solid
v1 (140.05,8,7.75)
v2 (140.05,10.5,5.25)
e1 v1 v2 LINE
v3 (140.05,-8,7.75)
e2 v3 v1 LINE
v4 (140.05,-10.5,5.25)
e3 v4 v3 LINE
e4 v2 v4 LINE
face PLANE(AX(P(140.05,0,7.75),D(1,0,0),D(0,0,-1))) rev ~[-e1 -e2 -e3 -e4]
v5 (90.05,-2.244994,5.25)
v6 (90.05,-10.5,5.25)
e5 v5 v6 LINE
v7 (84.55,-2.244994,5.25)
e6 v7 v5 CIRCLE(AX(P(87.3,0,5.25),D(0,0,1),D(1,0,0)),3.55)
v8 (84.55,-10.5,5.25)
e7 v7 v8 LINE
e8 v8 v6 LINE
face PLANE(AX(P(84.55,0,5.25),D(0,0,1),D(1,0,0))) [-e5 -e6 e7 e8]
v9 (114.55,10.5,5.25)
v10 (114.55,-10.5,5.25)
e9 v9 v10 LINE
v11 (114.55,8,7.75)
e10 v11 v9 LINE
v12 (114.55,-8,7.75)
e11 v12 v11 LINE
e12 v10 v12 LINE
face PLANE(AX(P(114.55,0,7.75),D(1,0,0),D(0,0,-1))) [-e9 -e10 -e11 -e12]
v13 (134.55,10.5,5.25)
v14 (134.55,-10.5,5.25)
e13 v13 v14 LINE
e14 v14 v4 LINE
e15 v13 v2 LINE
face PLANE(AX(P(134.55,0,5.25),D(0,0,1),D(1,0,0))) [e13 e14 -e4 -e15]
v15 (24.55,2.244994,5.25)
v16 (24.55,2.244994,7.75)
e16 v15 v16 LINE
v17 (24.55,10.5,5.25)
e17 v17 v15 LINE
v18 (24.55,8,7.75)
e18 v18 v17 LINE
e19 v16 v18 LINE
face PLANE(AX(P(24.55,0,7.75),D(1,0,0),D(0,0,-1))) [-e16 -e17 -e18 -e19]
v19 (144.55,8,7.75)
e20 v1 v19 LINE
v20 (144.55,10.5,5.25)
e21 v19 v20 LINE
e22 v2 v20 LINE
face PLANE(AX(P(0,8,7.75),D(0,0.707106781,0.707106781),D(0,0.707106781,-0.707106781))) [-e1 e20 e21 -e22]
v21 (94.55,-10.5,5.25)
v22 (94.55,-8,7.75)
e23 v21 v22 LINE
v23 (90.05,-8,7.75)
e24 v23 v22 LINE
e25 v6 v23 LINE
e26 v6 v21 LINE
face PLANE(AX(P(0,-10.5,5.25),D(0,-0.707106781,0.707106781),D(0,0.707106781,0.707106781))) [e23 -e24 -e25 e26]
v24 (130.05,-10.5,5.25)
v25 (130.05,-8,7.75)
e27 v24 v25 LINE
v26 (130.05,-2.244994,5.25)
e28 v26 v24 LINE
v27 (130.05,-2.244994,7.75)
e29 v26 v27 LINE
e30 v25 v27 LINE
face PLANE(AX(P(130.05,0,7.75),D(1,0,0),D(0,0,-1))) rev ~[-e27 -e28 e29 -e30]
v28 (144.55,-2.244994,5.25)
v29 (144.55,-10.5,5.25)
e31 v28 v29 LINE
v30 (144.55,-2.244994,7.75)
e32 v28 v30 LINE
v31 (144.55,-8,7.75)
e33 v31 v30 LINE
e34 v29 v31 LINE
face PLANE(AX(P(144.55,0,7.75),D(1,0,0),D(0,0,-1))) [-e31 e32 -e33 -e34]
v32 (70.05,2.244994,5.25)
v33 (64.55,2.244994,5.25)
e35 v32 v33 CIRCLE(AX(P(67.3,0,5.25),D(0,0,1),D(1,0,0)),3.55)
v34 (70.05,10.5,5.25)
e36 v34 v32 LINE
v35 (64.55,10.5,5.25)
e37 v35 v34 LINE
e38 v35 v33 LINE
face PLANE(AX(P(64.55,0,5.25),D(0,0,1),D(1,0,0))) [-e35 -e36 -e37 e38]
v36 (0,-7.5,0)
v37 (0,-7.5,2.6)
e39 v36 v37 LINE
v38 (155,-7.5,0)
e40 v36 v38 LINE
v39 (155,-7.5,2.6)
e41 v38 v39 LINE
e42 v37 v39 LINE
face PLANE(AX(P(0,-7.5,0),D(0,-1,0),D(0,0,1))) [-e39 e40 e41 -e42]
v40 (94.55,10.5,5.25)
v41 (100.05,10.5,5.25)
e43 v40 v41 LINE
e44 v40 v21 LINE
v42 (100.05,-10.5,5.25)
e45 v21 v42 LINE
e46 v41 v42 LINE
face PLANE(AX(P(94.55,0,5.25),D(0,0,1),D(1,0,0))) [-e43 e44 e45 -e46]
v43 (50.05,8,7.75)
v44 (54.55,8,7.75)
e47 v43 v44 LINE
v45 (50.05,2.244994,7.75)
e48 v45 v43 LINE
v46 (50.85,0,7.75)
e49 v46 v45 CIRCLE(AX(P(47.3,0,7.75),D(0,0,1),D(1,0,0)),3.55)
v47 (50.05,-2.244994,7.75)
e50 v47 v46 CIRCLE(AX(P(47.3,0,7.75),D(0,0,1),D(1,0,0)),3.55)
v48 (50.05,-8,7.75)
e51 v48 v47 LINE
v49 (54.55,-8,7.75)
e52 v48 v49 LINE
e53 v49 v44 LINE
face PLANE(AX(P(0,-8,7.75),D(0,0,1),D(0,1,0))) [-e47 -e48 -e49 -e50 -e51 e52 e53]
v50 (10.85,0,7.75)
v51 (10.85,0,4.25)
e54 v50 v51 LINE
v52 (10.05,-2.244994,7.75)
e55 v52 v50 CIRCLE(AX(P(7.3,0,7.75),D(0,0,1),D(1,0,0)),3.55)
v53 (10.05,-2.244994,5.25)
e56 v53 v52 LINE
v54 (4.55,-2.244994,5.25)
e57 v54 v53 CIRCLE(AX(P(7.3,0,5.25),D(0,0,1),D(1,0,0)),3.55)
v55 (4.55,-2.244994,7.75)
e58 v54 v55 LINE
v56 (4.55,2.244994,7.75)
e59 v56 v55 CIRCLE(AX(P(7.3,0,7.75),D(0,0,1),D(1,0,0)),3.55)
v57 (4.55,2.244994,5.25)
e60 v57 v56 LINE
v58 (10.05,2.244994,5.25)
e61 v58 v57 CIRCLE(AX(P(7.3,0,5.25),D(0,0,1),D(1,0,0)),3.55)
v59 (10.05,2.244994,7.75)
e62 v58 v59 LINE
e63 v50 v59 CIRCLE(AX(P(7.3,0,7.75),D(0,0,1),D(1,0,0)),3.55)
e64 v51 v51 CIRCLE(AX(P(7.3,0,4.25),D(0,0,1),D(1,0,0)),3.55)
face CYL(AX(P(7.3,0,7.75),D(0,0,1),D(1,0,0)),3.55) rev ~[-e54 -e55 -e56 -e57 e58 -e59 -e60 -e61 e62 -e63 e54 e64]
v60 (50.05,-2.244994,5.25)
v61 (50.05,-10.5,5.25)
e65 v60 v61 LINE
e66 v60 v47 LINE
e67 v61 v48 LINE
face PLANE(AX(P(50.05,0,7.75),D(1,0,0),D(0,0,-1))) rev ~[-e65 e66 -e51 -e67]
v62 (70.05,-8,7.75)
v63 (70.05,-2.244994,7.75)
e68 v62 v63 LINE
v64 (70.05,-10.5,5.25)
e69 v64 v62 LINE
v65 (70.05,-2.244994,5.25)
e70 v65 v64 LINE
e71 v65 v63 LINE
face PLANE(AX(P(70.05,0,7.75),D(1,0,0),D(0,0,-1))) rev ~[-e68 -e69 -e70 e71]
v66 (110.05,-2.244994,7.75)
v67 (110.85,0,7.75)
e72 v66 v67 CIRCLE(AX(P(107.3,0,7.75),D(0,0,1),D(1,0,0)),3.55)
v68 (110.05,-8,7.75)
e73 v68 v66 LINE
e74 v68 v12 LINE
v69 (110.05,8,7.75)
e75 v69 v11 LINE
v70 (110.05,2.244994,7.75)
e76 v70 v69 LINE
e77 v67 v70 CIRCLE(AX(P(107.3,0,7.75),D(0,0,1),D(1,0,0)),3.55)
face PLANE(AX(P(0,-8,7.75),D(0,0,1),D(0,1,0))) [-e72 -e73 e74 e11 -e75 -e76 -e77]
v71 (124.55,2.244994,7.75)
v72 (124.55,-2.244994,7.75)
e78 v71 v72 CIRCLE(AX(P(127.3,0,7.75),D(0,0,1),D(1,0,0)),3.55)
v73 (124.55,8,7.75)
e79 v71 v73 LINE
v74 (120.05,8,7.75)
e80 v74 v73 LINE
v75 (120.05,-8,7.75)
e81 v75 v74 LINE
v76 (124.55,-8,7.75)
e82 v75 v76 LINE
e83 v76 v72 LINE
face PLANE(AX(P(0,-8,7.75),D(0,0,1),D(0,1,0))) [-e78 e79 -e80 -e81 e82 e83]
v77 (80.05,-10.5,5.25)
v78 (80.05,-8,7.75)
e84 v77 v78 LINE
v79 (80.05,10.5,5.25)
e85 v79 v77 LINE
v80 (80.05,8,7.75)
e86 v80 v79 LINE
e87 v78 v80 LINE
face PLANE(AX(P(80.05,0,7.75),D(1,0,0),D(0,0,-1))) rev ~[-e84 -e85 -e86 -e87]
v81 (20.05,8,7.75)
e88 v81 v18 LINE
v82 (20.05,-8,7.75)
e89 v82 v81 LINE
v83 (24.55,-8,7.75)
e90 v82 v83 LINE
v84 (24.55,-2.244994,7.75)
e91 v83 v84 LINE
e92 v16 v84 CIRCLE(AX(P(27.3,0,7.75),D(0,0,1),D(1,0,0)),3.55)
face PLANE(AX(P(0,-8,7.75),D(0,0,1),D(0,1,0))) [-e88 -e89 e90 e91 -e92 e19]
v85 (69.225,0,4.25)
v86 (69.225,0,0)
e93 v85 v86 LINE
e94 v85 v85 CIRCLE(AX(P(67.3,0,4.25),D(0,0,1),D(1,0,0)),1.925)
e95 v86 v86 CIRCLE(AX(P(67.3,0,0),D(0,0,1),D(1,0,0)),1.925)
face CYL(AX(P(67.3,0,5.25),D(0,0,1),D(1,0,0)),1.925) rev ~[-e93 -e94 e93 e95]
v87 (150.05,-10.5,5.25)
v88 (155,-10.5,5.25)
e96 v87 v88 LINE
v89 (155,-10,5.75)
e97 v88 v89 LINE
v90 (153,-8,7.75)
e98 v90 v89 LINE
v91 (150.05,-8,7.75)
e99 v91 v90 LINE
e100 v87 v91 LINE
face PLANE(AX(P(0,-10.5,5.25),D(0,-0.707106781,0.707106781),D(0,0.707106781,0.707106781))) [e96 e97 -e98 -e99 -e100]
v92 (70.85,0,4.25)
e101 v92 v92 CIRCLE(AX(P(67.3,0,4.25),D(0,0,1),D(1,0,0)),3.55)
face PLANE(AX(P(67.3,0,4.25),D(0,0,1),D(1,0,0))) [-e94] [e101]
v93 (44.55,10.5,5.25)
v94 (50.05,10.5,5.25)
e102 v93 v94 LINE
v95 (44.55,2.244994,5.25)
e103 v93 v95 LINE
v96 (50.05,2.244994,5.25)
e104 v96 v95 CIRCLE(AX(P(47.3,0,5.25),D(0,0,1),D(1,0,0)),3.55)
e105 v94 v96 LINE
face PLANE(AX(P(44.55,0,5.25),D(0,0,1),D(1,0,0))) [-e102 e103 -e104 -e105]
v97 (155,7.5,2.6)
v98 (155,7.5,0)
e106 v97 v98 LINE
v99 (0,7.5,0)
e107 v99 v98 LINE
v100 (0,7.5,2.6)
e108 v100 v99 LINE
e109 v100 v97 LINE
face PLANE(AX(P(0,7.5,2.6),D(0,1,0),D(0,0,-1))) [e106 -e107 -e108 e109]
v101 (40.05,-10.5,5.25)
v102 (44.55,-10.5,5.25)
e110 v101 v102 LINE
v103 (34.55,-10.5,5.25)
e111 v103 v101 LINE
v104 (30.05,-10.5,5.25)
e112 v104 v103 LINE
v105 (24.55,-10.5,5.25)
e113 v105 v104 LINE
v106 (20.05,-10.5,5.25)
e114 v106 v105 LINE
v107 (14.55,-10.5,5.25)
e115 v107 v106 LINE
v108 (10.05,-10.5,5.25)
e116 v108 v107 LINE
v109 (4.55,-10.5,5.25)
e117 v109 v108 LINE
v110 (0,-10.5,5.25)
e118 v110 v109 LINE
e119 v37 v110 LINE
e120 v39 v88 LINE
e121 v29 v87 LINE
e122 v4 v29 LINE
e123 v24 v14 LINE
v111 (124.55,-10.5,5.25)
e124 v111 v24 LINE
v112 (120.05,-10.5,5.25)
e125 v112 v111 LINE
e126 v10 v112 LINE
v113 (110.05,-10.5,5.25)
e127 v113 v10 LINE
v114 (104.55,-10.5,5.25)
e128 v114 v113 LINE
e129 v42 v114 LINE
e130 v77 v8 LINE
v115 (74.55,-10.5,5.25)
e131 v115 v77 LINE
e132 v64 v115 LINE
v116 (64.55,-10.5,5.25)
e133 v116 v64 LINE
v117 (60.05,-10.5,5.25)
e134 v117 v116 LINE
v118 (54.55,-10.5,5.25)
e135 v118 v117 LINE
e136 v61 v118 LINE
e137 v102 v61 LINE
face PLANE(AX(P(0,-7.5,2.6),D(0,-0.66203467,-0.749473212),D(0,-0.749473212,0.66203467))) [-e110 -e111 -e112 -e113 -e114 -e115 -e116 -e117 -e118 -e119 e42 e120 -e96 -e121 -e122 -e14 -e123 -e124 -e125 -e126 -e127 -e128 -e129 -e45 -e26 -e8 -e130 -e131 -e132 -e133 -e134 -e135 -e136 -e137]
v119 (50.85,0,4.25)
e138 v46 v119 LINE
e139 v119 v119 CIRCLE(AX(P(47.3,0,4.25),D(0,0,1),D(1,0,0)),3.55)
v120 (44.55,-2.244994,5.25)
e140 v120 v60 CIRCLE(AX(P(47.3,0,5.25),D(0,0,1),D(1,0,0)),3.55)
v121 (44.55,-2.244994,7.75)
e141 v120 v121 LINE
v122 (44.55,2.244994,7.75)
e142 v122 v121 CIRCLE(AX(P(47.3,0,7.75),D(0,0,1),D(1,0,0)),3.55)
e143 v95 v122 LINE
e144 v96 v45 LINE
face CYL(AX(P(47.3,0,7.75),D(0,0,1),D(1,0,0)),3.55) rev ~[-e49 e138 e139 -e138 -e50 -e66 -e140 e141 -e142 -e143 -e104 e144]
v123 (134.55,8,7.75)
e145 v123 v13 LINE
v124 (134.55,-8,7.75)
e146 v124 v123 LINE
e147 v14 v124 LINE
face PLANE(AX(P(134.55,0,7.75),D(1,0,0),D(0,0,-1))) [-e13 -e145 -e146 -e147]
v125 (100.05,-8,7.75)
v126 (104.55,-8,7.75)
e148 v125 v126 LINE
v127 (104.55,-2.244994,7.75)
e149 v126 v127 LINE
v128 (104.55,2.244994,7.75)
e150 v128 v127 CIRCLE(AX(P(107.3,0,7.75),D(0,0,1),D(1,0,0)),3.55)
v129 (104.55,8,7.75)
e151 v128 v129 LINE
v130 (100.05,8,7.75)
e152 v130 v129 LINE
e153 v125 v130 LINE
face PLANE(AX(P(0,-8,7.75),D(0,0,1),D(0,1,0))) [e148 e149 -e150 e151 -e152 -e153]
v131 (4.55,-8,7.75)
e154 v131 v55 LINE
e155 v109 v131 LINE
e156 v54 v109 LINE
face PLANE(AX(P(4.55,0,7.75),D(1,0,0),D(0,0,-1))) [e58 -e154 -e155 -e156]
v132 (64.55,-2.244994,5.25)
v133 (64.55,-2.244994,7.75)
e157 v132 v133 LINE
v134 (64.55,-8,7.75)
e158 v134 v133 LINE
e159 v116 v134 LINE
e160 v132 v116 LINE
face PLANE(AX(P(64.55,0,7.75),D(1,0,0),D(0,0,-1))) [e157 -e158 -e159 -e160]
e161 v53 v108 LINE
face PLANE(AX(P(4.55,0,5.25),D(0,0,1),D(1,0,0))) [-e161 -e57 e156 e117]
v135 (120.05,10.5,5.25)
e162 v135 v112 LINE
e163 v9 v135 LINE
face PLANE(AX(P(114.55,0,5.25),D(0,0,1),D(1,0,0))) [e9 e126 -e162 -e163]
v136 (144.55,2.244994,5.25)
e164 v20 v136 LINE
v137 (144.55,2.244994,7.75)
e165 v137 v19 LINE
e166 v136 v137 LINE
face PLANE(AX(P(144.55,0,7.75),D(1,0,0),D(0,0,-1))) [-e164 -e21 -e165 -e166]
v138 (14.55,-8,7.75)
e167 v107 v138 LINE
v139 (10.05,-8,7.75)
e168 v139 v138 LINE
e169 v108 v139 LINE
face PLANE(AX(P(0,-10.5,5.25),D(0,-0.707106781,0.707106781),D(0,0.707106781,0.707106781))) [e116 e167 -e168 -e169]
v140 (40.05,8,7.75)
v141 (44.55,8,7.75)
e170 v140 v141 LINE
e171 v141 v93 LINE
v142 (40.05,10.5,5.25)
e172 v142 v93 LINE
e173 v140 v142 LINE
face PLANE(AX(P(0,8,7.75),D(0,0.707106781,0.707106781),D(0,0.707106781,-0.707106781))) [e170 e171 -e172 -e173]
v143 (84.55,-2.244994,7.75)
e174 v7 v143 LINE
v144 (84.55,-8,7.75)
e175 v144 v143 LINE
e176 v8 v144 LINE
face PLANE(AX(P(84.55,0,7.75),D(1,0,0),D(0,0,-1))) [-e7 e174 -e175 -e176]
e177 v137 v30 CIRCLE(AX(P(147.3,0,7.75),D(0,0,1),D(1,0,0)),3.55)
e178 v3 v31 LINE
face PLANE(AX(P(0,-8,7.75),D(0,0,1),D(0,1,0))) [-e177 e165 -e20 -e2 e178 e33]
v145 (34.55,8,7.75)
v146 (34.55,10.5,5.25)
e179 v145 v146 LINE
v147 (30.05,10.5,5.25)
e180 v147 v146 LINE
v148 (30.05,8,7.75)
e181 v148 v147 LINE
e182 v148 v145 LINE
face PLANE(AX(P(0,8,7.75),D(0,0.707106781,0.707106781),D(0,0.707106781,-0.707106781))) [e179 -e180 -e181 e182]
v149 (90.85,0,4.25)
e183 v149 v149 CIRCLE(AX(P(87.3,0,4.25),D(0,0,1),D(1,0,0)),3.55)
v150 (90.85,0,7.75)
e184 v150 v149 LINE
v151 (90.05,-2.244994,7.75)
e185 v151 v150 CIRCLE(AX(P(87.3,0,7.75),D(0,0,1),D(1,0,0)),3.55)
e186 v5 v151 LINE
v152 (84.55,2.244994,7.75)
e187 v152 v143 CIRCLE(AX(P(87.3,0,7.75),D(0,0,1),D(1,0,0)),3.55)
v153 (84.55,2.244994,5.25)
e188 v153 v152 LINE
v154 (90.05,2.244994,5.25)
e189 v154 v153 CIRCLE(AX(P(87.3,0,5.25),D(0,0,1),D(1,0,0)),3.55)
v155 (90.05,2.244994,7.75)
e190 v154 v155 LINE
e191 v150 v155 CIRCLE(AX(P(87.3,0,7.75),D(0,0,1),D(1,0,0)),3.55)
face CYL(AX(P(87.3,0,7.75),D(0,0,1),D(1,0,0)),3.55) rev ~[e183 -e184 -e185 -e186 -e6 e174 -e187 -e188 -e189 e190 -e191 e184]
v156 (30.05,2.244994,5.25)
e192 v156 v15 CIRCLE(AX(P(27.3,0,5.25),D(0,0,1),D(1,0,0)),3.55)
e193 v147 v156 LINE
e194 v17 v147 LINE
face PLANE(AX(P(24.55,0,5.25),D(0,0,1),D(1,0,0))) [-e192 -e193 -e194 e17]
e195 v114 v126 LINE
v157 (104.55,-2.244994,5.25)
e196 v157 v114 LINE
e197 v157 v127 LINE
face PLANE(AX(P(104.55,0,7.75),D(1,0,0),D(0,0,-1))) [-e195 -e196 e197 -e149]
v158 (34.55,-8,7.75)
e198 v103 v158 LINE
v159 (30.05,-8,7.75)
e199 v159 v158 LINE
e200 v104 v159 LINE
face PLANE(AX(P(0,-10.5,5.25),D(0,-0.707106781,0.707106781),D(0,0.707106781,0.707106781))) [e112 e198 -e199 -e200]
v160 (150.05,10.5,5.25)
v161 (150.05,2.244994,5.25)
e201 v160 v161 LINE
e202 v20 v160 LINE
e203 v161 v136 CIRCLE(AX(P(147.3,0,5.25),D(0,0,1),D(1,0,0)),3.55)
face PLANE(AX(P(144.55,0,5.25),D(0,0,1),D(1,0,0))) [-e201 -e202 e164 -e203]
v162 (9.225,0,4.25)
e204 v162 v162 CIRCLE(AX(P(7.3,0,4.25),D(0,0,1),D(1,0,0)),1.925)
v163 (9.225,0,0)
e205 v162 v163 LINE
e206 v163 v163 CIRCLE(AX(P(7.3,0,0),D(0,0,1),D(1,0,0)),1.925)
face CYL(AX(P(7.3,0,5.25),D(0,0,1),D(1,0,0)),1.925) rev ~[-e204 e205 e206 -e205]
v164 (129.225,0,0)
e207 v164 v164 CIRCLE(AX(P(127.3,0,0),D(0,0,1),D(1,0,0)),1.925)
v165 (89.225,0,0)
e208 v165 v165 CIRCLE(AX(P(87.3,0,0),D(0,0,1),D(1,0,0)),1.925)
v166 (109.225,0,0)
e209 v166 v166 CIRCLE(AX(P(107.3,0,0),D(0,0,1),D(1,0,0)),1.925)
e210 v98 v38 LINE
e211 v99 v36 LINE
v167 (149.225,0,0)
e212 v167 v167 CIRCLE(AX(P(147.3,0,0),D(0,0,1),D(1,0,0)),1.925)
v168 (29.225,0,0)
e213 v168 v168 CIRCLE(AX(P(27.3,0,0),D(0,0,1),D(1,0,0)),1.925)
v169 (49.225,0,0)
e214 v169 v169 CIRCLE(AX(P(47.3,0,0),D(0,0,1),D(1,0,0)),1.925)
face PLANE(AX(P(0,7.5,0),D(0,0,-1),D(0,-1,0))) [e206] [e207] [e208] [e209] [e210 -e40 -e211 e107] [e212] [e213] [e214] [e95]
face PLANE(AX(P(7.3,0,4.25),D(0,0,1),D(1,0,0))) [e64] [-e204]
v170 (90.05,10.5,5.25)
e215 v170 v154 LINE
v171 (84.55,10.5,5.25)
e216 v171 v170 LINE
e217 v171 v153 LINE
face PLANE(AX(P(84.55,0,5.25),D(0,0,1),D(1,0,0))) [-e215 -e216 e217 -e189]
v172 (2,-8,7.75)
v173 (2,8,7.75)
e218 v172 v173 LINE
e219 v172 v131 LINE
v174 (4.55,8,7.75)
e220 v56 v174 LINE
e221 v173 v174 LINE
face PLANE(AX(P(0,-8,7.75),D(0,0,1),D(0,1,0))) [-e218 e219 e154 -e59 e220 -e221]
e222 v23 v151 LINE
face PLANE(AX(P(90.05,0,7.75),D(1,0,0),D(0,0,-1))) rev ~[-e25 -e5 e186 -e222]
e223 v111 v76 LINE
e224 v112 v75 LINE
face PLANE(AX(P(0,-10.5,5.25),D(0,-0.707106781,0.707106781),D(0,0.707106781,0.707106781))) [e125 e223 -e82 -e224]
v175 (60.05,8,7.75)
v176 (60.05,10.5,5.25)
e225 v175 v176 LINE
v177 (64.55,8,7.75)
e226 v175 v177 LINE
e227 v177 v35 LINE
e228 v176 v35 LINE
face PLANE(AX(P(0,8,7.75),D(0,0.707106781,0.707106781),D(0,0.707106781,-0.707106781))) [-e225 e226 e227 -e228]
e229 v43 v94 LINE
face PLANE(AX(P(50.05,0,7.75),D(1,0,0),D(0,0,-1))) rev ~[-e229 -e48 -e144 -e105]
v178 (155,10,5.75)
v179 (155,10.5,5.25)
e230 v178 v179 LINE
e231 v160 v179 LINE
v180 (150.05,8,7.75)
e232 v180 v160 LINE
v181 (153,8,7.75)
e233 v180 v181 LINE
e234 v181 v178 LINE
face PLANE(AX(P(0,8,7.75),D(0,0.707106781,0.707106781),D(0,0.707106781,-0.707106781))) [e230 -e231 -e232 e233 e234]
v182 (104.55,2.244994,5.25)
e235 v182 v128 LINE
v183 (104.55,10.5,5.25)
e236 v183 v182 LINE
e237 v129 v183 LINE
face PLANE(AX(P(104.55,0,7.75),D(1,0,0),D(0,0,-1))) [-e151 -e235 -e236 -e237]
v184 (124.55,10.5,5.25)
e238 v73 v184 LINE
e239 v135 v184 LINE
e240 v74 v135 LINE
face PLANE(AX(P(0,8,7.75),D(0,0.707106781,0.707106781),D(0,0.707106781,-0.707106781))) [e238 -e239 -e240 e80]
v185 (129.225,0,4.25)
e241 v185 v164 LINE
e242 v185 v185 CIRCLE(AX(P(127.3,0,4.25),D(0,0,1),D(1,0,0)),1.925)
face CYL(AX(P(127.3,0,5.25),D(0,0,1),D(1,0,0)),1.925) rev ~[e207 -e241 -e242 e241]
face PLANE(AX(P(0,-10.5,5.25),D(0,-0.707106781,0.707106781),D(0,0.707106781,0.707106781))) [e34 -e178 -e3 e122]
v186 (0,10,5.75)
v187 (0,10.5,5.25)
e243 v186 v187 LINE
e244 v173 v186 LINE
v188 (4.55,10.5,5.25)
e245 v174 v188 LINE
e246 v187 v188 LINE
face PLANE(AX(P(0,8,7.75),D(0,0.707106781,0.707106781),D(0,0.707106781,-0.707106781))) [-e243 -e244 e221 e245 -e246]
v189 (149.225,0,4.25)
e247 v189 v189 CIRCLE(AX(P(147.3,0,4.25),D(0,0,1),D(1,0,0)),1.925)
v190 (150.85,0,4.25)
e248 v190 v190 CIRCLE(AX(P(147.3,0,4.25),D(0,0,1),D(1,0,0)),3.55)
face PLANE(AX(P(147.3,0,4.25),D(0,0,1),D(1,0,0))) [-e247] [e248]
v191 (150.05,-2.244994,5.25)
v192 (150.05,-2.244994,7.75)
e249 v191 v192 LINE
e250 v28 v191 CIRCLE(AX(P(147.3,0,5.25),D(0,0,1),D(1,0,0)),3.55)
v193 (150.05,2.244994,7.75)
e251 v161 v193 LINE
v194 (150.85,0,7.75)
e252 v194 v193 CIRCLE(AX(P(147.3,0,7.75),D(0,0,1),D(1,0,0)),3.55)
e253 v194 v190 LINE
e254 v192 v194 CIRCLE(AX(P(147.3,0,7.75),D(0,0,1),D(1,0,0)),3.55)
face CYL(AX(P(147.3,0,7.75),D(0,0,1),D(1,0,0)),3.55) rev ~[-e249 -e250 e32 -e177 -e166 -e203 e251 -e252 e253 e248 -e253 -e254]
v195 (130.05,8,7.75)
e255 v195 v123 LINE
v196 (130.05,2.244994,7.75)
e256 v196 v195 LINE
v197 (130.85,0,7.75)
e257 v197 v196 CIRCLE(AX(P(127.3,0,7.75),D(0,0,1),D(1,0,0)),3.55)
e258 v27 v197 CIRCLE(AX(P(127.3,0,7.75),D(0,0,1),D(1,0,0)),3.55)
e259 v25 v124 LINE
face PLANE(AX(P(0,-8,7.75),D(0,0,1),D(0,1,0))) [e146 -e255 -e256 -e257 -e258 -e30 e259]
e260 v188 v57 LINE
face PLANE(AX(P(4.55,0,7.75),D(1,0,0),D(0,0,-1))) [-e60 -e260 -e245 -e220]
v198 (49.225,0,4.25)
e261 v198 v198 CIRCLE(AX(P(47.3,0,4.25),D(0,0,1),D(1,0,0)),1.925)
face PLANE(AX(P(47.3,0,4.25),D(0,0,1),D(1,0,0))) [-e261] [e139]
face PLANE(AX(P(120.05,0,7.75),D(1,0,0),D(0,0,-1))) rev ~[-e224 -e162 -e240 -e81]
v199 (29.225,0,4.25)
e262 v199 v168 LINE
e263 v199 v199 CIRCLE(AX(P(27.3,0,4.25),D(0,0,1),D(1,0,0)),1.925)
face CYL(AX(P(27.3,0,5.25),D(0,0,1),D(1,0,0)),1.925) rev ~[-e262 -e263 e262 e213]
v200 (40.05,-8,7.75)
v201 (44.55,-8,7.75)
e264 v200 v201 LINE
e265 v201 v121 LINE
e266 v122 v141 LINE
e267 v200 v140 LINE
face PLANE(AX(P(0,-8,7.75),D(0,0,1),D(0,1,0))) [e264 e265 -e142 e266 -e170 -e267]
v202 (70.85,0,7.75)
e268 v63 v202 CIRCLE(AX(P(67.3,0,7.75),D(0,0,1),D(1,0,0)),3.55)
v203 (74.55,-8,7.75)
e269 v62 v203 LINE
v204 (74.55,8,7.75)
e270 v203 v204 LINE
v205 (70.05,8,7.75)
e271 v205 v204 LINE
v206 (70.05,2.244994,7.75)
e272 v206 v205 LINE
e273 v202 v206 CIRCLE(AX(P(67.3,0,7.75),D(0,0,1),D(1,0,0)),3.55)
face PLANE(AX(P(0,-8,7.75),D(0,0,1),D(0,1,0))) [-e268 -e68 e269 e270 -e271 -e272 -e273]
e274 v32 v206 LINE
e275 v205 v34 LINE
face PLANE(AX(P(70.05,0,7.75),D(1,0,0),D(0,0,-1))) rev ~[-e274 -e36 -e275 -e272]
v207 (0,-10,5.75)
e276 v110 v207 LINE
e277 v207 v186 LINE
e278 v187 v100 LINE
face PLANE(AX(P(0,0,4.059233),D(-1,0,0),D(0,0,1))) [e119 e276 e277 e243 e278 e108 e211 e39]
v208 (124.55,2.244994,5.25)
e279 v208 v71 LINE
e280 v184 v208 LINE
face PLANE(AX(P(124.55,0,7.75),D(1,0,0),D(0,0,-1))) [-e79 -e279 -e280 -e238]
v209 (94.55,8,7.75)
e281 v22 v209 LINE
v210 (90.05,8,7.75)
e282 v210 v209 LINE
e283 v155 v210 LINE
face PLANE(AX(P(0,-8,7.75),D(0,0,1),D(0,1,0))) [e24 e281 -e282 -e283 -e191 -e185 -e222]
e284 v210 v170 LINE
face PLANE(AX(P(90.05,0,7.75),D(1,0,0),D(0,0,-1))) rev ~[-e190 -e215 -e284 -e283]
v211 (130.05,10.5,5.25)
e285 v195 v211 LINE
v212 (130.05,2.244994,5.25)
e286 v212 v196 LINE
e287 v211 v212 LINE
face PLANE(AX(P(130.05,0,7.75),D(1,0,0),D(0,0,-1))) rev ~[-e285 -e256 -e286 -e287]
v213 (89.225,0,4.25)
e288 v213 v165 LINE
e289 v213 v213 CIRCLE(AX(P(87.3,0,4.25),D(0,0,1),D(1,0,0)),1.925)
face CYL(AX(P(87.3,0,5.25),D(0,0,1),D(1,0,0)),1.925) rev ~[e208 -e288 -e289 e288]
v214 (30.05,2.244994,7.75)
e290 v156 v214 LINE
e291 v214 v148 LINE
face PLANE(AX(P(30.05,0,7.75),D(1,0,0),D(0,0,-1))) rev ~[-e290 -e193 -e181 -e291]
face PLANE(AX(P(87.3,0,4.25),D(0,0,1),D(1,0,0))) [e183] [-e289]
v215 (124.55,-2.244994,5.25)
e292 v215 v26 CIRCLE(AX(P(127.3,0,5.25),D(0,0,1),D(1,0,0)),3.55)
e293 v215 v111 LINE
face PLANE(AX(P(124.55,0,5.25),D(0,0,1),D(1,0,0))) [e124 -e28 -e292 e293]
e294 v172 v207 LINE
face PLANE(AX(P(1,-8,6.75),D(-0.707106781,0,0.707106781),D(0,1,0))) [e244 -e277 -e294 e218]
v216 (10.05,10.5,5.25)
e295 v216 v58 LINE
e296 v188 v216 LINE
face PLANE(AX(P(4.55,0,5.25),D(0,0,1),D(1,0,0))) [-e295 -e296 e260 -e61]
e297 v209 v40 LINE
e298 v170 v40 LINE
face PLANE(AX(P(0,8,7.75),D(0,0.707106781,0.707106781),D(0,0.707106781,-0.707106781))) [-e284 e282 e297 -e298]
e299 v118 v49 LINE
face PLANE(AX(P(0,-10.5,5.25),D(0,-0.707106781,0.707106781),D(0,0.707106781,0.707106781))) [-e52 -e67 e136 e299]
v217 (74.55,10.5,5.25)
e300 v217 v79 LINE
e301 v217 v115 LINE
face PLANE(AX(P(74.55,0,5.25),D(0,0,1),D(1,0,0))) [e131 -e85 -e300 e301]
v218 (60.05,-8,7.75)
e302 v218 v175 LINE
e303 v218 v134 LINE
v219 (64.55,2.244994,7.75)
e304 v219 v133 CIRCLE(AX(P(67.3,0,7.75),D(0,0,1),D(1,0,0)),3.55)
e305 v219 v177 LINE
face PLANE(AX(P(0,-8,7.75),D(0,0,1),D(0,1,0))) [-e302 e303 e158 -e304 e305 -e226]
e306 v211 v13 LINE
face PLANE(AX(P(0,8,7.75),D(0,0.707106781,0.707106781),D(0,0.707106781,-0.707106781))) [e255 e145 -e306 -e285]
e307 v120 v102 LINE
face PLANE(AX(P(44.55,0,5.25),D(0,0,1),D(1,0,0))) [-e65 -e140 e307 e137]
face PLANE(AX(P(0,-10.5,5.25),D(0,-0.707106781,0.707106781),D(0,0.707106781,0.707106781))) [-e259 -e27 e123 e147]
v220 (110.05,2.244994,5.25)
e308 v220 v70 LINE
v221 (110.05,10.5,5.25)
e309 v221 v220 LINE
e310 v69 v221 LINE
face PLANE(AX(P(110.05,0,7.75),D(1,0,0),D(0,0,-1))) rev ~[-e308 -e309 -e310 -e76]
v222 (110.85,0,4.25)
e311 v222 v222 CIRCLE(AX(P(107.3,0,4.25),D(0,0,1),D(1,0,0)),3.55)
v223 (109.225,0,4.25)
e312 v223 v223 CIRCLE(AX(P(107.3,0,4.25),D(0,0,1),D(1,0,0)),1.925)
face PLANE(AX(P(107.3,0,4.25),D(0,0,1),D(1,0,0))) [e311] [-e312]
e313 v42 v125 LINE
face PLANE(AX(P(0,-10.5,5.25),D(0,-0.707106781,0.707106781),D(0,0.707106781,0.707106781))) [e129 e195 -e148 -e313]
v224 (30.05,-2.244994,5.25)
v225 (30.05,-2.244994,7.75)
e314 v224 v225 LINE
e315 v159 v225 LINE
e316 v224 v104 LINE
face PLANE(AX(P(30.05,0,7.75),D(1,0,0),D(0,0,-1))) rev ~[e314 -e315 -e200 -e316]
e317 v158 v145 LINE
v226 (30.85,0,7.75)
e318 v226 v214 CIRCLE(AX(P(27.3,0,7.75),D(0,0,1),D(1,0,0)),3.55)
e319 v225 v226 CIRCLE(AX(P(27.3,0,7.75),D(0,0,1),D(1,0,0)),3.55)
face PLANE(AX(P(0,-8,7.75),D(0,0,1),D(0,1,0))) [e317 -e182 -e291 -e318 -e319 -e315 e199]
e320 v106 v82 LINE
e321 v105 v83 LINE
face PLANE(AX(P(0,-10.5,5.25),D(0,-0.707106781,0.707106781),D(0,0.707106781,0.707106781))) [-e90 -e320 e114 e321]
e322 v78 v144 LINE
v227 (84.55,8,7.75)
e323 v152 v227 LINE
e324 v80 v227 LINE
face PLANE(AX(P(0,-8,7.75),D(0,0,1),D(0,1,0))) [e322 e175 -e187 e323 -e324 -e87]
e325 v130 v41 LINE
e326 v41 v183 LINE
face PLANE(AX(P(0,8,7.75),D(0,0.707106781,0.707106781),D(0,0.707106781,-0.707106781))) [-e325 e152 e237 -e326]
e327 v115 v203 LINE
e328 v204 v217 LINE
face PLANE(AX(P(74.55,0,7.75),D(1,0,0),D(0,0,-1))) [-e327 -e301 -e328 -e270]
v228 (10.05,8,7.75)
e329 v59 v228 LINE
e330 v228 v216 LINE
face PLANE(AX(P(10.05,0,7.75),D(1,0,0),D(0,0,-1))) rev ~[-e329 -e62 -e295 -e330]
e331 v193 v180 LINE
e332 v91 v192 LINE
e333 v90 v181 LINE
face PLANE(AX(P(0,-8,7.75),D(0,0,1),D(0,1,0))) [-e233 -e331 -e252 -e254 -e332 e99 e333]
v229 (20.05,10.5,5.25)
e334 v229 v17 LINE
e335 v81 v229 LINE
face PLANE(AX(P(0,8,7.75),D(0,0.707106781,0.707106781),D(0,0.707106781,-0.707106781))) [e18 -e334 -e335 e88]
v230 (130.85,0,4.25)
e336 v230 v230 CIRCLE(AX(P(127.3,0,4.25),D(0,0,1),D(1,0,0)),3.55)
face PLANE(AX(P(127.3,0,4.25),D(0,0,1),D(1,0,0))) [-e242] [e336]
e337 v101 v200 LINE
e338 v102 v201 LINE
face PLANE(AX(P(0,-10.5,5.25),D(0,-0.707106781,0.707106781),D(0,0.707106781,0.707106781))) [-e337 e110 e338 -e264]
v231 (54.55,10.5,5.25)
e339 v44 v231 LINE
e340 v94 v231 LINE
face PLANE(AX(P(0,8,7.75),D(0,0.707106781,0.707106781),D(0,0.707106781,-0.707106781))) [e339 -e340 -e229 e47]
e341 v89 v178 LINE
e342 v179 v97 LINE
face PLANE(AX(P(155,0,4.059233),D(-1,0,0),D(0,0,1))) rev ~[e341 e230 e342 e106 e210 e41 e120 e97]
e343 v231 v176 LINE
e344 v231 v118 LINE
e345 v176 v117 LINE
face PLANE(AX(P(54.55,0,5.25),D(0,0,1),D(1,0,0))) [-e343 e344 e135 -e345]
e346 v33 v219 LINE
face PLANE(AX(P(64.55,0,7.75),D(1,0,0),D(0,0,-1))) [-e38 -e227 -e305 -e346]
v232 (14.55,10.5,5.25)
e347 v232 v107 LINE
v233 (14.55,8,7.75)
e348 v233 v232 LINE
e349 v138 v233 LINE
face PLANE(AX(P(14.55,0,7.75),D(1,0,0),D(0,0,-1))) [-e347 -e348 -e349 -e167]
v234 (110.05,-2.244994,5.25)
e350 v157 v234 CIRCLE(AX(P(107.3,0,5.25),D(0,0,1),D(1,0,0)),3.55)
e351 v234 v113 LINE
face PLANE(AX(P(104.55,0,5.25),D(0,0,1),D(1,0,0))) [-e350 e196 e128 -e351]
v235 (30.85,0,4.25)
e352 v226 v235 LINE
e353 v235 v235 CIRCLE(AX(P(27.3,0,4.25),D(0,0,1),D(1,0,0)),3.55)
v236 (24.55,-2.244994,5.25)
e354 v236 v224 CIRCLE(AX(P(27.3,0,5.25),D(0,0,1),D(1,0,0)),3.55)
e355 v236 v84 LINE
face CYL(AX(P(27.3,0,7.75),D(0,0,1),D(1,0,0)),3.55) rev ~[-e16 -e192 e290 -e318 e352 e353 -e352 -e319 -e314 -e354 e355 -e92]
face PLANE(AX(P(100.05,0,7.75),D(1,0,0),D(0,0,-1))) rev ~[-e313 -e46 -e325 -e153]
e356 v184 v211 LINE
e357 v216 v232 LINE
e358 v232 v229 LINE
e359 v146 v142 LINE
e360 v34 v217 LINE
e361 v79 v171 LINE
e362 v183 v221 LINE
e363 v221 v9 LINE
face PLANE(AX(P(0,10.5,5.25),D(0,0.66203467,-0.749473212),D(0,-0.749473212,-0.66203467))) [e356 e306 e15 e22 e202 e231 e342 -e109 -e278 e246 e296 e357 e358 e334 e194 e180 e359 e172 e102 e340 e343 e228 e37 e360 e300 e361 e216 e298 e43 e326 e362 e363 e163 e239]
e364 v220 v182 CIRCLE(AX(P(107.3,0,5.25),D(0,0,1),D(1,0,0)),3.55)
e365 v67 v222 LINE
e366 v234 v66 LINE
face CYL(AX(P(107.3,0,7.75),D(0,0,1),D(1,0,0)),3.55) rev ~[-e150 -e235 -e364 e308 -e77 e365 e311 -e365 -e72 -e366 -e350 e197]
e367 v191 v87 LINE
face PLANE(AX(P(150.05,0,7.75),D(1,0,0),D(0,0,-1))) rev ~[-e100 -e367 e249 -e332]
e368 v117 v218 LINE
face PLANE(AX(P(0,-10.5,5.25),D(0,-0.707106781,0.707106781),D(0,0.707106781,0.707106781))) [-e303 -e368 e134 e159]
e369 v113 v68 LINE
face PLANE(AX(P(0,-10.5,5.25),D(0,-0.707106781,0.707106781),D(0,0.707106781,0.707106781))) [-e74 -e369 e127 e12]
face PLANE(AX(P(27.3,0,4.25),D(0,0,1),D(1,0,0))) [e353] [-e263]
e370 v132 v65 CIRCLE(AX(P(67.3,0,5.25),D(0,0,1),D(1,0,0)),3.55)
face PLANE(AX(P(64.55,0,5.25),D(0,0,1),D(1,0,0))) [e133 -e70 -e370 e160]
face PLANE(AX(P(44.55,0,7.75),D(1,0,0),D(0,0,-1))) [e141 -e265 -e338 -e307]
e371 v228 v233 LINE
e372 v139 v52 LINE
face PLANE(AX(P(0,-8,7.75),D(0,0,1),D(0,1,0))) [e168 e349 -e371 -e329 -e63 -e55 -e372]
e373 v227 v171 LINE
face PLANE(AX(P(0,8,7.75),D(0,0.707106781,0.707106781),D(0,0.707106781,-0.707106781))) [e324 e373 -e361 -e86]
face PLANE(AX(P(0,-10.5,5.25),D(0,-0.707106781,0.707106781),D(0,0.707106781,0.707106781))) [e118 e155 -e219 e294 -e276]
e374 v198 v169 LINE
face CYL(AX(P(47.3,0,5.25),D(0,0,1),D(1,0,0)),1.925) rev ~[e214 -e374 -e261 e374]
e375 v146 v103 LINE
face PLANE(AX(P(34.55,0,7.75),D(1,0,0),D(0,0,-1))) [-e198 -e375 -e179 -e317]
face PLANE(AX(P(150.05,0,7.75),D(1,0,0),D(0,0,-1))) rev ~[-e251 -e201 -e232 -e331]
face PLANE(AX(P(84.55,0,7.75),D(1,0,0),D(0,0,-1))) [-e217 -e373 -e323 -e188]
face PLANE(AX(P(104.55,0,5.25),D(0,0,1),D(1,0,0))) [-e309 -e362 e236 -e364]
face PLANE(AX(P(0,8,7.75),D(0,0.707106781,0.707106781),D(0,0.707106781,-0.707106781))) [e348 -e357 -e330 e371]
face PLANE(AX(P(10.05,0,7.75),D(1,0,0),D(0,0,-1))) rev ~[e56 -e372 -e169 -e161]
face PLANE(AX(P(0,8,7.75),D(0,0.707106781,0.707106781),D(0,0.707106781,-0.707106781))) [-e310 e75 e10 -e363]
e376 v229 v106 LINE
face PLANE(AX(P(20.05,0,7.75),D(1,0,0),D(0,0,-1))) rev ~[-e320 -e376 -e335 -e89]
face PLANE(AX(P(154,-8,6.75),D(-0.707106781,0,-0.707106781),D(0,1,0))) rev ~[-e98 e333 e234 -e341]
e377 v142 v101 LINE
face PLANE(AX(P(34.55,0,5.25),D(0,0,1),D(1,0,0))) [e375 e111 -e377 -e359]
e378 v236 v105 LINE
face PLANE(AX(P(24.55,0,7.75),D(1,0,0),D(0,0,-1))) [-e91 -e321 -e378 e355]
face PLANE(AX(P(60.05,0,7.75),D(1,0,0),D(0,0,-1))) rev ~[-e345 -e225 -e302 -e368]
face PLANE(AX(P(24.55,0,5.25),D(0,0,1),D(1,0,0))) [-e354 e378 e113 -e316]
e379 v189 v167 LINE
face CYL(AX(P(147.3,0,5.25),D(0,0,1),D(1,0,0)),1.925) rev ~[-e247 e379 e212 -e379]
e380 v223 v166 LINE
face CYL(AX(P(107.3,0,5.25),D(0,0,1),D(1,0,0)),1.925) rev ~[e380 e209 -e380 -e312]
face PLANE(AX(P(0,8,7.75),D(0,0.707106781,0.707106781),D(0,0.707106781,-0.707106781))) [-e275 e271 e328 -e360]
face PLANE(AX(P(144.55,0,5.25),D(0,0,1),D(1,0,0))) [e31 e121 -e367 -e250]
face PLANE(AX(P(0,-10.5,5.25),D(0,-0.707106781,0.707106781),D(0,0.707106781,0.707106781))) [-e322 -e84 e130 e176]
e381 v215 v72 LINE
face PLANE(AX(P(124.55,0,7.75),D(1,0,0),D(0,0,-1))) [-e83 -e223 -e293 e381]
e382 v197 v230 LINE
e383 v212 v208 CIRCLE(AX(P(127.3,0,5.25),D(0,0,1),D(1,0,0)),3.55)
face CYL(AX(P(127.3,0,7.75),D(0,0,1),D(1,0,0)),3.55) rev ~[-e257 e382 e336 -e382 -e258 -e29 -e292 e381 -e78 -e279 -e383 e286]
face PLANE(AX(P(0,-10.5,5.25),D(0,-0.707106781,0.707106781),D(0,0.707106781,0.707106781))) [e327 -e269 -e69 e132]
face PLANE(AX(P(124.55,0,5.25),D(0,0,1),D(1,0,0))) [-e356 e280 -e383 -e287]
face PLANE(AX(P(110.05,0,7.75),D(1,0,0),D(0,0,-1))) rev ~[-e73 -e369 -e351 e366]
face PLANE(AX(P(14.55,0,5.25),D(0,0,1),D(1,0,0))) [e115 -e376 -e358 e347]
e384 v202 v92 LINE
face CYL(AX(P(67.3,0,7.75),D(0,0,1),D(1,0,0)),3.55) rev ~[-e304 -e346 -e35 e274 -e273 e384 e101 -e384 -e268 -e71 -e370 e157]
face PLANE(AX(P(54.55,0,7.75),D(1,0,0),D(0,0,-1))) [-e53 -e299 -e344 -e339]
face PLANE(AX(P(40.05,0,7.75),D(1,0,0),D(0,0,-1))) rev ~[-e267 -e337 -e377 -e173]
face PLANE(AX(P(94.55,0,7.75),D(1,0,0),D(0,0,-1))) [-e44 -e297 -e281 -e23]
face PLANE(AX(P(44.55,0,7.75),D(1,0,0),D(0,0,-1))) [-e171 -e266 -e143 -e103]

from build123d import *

# Parameters (mm, degrees)
EXTRUDE_2_DEPTH        = 155
CHAMFER_1_SIZE         = 2
SKETCH_5_W             = 5.5
SKETCH_5_H             = 2.5
CUT_EXTRUDE_1_DEPTH    = 156.548424936
CUT_EXTRUDE_2_REACH    = 157.444
SKETCH_6_R             = 1.925
SKETCH_7_R             = 3.55
CUT_EXTRUDE_3_DEPTH    = 3.5
PATTERN_LINEAR_1_COUNT = 15
PATTERN_LINEAR_1_PITCH = 10
PATTERN_LINEAR_2_COUNT = 8
PATTERN_LINEAR_2_PITCH = 20


with BuildPart() as part:
    # 스케치4 → 보스-돌출2 (new body)
    with BuildSketch(Plane(origin=(0, 0, 0), x_dir=(0, 0, -1), z_dir=(1, 0, 0))):
        Polygon((0, 7.5), (0, -7.5), (-2.6, -7.5), (-5.25, -10.5), (-7.75, -8), (-7.75, 8), (-5.25, 10.5), (-2.6, 7.5), align=None)
    extrude(amount=EXTRUDE_2_DEPTH)

    # 모따기1
    chamfer_1_edges = [part.edges().sort_by_distance(p)[0] for p in [
        (0, 0, 7.75),
        (155, 0, 7.75),
    ]]
    chamfer(chamfer_1_edges, length=CHAMFER_1_SIZE)

    # 스케치5 → 컷-돌출1 (cut, symmetric)
    with BuildSketch(Plane(origin=(0, 0, 0), x_dir=(1, 0, 0), z_dir=(0, 1, 0))):
        with Locations((7.3, -6.5)):
            Rectangle(SKETCH_5_W, SKETCH_5_H)
    cut_extrude_1 = extrude(amount=CUT_EXTRUDE_1_DEPTH, both=True, mode=Mode.SUBTRACT)

    # 스케치6 → 컷-돌출2 (cut, up to next)
    with BuildSketch(Plane.XY.offset(5.25), mode=Mode.PRIVATE) as cut_extrude_2_sk1:
        with Locations((7.3, 0)):
            Circle(SKETCH_6_R)
    cut_extrude_2_tool1 = extrude(cut_extrude_2_sk1.sketch, amount=-CUT_EXTRUDE_2_REACH, mode=Mode.PRIVATE) & part.part
    cut_extrude_2 = cut_extrude_2_tool1.solids().sort_by_distance((7.3, 0, 5.25))[0]
    add(cut_extrude_2, mode=Mode.SUBTRACT)

    # 스케치7 → 컷-돌출3 (cut)
    with BuildSketch(Plane.XY.offset(7.75)):
        with Locations((7.3, 0)):
            Circle(SKETCH_7_R)
    cut_extrude_3 = extrude(amount=-CUT_EXTRUDE_3_DEPTH, mode=Mode.SUBTRACT)

    # 선형 패턴1: 컷-돌출1 ×15
    with Locations(*[(i * PATTERN_LINEAR_1_PITCH, 0, 0) for i in range(1, PATTERN_LINEAR_1_COUNT)]):
        add(cut_extrude_1, mode=Mode.SUBTRACT)

    # 선형 패턴2: 컷-돌출2, 컷-돌출3 ×8
    with Locations(*[(i * PATTERN_LINEAR_2_PITCH, 0, 0) for i in range(1, PATTERN_LINEAR_2_COUNT)]):
        add(cut_extrude_2, mode=Mode.SUBTRACT)
        add(cut_extrude_3, mode=Mode.SUBTRACT)


solid = part.part
